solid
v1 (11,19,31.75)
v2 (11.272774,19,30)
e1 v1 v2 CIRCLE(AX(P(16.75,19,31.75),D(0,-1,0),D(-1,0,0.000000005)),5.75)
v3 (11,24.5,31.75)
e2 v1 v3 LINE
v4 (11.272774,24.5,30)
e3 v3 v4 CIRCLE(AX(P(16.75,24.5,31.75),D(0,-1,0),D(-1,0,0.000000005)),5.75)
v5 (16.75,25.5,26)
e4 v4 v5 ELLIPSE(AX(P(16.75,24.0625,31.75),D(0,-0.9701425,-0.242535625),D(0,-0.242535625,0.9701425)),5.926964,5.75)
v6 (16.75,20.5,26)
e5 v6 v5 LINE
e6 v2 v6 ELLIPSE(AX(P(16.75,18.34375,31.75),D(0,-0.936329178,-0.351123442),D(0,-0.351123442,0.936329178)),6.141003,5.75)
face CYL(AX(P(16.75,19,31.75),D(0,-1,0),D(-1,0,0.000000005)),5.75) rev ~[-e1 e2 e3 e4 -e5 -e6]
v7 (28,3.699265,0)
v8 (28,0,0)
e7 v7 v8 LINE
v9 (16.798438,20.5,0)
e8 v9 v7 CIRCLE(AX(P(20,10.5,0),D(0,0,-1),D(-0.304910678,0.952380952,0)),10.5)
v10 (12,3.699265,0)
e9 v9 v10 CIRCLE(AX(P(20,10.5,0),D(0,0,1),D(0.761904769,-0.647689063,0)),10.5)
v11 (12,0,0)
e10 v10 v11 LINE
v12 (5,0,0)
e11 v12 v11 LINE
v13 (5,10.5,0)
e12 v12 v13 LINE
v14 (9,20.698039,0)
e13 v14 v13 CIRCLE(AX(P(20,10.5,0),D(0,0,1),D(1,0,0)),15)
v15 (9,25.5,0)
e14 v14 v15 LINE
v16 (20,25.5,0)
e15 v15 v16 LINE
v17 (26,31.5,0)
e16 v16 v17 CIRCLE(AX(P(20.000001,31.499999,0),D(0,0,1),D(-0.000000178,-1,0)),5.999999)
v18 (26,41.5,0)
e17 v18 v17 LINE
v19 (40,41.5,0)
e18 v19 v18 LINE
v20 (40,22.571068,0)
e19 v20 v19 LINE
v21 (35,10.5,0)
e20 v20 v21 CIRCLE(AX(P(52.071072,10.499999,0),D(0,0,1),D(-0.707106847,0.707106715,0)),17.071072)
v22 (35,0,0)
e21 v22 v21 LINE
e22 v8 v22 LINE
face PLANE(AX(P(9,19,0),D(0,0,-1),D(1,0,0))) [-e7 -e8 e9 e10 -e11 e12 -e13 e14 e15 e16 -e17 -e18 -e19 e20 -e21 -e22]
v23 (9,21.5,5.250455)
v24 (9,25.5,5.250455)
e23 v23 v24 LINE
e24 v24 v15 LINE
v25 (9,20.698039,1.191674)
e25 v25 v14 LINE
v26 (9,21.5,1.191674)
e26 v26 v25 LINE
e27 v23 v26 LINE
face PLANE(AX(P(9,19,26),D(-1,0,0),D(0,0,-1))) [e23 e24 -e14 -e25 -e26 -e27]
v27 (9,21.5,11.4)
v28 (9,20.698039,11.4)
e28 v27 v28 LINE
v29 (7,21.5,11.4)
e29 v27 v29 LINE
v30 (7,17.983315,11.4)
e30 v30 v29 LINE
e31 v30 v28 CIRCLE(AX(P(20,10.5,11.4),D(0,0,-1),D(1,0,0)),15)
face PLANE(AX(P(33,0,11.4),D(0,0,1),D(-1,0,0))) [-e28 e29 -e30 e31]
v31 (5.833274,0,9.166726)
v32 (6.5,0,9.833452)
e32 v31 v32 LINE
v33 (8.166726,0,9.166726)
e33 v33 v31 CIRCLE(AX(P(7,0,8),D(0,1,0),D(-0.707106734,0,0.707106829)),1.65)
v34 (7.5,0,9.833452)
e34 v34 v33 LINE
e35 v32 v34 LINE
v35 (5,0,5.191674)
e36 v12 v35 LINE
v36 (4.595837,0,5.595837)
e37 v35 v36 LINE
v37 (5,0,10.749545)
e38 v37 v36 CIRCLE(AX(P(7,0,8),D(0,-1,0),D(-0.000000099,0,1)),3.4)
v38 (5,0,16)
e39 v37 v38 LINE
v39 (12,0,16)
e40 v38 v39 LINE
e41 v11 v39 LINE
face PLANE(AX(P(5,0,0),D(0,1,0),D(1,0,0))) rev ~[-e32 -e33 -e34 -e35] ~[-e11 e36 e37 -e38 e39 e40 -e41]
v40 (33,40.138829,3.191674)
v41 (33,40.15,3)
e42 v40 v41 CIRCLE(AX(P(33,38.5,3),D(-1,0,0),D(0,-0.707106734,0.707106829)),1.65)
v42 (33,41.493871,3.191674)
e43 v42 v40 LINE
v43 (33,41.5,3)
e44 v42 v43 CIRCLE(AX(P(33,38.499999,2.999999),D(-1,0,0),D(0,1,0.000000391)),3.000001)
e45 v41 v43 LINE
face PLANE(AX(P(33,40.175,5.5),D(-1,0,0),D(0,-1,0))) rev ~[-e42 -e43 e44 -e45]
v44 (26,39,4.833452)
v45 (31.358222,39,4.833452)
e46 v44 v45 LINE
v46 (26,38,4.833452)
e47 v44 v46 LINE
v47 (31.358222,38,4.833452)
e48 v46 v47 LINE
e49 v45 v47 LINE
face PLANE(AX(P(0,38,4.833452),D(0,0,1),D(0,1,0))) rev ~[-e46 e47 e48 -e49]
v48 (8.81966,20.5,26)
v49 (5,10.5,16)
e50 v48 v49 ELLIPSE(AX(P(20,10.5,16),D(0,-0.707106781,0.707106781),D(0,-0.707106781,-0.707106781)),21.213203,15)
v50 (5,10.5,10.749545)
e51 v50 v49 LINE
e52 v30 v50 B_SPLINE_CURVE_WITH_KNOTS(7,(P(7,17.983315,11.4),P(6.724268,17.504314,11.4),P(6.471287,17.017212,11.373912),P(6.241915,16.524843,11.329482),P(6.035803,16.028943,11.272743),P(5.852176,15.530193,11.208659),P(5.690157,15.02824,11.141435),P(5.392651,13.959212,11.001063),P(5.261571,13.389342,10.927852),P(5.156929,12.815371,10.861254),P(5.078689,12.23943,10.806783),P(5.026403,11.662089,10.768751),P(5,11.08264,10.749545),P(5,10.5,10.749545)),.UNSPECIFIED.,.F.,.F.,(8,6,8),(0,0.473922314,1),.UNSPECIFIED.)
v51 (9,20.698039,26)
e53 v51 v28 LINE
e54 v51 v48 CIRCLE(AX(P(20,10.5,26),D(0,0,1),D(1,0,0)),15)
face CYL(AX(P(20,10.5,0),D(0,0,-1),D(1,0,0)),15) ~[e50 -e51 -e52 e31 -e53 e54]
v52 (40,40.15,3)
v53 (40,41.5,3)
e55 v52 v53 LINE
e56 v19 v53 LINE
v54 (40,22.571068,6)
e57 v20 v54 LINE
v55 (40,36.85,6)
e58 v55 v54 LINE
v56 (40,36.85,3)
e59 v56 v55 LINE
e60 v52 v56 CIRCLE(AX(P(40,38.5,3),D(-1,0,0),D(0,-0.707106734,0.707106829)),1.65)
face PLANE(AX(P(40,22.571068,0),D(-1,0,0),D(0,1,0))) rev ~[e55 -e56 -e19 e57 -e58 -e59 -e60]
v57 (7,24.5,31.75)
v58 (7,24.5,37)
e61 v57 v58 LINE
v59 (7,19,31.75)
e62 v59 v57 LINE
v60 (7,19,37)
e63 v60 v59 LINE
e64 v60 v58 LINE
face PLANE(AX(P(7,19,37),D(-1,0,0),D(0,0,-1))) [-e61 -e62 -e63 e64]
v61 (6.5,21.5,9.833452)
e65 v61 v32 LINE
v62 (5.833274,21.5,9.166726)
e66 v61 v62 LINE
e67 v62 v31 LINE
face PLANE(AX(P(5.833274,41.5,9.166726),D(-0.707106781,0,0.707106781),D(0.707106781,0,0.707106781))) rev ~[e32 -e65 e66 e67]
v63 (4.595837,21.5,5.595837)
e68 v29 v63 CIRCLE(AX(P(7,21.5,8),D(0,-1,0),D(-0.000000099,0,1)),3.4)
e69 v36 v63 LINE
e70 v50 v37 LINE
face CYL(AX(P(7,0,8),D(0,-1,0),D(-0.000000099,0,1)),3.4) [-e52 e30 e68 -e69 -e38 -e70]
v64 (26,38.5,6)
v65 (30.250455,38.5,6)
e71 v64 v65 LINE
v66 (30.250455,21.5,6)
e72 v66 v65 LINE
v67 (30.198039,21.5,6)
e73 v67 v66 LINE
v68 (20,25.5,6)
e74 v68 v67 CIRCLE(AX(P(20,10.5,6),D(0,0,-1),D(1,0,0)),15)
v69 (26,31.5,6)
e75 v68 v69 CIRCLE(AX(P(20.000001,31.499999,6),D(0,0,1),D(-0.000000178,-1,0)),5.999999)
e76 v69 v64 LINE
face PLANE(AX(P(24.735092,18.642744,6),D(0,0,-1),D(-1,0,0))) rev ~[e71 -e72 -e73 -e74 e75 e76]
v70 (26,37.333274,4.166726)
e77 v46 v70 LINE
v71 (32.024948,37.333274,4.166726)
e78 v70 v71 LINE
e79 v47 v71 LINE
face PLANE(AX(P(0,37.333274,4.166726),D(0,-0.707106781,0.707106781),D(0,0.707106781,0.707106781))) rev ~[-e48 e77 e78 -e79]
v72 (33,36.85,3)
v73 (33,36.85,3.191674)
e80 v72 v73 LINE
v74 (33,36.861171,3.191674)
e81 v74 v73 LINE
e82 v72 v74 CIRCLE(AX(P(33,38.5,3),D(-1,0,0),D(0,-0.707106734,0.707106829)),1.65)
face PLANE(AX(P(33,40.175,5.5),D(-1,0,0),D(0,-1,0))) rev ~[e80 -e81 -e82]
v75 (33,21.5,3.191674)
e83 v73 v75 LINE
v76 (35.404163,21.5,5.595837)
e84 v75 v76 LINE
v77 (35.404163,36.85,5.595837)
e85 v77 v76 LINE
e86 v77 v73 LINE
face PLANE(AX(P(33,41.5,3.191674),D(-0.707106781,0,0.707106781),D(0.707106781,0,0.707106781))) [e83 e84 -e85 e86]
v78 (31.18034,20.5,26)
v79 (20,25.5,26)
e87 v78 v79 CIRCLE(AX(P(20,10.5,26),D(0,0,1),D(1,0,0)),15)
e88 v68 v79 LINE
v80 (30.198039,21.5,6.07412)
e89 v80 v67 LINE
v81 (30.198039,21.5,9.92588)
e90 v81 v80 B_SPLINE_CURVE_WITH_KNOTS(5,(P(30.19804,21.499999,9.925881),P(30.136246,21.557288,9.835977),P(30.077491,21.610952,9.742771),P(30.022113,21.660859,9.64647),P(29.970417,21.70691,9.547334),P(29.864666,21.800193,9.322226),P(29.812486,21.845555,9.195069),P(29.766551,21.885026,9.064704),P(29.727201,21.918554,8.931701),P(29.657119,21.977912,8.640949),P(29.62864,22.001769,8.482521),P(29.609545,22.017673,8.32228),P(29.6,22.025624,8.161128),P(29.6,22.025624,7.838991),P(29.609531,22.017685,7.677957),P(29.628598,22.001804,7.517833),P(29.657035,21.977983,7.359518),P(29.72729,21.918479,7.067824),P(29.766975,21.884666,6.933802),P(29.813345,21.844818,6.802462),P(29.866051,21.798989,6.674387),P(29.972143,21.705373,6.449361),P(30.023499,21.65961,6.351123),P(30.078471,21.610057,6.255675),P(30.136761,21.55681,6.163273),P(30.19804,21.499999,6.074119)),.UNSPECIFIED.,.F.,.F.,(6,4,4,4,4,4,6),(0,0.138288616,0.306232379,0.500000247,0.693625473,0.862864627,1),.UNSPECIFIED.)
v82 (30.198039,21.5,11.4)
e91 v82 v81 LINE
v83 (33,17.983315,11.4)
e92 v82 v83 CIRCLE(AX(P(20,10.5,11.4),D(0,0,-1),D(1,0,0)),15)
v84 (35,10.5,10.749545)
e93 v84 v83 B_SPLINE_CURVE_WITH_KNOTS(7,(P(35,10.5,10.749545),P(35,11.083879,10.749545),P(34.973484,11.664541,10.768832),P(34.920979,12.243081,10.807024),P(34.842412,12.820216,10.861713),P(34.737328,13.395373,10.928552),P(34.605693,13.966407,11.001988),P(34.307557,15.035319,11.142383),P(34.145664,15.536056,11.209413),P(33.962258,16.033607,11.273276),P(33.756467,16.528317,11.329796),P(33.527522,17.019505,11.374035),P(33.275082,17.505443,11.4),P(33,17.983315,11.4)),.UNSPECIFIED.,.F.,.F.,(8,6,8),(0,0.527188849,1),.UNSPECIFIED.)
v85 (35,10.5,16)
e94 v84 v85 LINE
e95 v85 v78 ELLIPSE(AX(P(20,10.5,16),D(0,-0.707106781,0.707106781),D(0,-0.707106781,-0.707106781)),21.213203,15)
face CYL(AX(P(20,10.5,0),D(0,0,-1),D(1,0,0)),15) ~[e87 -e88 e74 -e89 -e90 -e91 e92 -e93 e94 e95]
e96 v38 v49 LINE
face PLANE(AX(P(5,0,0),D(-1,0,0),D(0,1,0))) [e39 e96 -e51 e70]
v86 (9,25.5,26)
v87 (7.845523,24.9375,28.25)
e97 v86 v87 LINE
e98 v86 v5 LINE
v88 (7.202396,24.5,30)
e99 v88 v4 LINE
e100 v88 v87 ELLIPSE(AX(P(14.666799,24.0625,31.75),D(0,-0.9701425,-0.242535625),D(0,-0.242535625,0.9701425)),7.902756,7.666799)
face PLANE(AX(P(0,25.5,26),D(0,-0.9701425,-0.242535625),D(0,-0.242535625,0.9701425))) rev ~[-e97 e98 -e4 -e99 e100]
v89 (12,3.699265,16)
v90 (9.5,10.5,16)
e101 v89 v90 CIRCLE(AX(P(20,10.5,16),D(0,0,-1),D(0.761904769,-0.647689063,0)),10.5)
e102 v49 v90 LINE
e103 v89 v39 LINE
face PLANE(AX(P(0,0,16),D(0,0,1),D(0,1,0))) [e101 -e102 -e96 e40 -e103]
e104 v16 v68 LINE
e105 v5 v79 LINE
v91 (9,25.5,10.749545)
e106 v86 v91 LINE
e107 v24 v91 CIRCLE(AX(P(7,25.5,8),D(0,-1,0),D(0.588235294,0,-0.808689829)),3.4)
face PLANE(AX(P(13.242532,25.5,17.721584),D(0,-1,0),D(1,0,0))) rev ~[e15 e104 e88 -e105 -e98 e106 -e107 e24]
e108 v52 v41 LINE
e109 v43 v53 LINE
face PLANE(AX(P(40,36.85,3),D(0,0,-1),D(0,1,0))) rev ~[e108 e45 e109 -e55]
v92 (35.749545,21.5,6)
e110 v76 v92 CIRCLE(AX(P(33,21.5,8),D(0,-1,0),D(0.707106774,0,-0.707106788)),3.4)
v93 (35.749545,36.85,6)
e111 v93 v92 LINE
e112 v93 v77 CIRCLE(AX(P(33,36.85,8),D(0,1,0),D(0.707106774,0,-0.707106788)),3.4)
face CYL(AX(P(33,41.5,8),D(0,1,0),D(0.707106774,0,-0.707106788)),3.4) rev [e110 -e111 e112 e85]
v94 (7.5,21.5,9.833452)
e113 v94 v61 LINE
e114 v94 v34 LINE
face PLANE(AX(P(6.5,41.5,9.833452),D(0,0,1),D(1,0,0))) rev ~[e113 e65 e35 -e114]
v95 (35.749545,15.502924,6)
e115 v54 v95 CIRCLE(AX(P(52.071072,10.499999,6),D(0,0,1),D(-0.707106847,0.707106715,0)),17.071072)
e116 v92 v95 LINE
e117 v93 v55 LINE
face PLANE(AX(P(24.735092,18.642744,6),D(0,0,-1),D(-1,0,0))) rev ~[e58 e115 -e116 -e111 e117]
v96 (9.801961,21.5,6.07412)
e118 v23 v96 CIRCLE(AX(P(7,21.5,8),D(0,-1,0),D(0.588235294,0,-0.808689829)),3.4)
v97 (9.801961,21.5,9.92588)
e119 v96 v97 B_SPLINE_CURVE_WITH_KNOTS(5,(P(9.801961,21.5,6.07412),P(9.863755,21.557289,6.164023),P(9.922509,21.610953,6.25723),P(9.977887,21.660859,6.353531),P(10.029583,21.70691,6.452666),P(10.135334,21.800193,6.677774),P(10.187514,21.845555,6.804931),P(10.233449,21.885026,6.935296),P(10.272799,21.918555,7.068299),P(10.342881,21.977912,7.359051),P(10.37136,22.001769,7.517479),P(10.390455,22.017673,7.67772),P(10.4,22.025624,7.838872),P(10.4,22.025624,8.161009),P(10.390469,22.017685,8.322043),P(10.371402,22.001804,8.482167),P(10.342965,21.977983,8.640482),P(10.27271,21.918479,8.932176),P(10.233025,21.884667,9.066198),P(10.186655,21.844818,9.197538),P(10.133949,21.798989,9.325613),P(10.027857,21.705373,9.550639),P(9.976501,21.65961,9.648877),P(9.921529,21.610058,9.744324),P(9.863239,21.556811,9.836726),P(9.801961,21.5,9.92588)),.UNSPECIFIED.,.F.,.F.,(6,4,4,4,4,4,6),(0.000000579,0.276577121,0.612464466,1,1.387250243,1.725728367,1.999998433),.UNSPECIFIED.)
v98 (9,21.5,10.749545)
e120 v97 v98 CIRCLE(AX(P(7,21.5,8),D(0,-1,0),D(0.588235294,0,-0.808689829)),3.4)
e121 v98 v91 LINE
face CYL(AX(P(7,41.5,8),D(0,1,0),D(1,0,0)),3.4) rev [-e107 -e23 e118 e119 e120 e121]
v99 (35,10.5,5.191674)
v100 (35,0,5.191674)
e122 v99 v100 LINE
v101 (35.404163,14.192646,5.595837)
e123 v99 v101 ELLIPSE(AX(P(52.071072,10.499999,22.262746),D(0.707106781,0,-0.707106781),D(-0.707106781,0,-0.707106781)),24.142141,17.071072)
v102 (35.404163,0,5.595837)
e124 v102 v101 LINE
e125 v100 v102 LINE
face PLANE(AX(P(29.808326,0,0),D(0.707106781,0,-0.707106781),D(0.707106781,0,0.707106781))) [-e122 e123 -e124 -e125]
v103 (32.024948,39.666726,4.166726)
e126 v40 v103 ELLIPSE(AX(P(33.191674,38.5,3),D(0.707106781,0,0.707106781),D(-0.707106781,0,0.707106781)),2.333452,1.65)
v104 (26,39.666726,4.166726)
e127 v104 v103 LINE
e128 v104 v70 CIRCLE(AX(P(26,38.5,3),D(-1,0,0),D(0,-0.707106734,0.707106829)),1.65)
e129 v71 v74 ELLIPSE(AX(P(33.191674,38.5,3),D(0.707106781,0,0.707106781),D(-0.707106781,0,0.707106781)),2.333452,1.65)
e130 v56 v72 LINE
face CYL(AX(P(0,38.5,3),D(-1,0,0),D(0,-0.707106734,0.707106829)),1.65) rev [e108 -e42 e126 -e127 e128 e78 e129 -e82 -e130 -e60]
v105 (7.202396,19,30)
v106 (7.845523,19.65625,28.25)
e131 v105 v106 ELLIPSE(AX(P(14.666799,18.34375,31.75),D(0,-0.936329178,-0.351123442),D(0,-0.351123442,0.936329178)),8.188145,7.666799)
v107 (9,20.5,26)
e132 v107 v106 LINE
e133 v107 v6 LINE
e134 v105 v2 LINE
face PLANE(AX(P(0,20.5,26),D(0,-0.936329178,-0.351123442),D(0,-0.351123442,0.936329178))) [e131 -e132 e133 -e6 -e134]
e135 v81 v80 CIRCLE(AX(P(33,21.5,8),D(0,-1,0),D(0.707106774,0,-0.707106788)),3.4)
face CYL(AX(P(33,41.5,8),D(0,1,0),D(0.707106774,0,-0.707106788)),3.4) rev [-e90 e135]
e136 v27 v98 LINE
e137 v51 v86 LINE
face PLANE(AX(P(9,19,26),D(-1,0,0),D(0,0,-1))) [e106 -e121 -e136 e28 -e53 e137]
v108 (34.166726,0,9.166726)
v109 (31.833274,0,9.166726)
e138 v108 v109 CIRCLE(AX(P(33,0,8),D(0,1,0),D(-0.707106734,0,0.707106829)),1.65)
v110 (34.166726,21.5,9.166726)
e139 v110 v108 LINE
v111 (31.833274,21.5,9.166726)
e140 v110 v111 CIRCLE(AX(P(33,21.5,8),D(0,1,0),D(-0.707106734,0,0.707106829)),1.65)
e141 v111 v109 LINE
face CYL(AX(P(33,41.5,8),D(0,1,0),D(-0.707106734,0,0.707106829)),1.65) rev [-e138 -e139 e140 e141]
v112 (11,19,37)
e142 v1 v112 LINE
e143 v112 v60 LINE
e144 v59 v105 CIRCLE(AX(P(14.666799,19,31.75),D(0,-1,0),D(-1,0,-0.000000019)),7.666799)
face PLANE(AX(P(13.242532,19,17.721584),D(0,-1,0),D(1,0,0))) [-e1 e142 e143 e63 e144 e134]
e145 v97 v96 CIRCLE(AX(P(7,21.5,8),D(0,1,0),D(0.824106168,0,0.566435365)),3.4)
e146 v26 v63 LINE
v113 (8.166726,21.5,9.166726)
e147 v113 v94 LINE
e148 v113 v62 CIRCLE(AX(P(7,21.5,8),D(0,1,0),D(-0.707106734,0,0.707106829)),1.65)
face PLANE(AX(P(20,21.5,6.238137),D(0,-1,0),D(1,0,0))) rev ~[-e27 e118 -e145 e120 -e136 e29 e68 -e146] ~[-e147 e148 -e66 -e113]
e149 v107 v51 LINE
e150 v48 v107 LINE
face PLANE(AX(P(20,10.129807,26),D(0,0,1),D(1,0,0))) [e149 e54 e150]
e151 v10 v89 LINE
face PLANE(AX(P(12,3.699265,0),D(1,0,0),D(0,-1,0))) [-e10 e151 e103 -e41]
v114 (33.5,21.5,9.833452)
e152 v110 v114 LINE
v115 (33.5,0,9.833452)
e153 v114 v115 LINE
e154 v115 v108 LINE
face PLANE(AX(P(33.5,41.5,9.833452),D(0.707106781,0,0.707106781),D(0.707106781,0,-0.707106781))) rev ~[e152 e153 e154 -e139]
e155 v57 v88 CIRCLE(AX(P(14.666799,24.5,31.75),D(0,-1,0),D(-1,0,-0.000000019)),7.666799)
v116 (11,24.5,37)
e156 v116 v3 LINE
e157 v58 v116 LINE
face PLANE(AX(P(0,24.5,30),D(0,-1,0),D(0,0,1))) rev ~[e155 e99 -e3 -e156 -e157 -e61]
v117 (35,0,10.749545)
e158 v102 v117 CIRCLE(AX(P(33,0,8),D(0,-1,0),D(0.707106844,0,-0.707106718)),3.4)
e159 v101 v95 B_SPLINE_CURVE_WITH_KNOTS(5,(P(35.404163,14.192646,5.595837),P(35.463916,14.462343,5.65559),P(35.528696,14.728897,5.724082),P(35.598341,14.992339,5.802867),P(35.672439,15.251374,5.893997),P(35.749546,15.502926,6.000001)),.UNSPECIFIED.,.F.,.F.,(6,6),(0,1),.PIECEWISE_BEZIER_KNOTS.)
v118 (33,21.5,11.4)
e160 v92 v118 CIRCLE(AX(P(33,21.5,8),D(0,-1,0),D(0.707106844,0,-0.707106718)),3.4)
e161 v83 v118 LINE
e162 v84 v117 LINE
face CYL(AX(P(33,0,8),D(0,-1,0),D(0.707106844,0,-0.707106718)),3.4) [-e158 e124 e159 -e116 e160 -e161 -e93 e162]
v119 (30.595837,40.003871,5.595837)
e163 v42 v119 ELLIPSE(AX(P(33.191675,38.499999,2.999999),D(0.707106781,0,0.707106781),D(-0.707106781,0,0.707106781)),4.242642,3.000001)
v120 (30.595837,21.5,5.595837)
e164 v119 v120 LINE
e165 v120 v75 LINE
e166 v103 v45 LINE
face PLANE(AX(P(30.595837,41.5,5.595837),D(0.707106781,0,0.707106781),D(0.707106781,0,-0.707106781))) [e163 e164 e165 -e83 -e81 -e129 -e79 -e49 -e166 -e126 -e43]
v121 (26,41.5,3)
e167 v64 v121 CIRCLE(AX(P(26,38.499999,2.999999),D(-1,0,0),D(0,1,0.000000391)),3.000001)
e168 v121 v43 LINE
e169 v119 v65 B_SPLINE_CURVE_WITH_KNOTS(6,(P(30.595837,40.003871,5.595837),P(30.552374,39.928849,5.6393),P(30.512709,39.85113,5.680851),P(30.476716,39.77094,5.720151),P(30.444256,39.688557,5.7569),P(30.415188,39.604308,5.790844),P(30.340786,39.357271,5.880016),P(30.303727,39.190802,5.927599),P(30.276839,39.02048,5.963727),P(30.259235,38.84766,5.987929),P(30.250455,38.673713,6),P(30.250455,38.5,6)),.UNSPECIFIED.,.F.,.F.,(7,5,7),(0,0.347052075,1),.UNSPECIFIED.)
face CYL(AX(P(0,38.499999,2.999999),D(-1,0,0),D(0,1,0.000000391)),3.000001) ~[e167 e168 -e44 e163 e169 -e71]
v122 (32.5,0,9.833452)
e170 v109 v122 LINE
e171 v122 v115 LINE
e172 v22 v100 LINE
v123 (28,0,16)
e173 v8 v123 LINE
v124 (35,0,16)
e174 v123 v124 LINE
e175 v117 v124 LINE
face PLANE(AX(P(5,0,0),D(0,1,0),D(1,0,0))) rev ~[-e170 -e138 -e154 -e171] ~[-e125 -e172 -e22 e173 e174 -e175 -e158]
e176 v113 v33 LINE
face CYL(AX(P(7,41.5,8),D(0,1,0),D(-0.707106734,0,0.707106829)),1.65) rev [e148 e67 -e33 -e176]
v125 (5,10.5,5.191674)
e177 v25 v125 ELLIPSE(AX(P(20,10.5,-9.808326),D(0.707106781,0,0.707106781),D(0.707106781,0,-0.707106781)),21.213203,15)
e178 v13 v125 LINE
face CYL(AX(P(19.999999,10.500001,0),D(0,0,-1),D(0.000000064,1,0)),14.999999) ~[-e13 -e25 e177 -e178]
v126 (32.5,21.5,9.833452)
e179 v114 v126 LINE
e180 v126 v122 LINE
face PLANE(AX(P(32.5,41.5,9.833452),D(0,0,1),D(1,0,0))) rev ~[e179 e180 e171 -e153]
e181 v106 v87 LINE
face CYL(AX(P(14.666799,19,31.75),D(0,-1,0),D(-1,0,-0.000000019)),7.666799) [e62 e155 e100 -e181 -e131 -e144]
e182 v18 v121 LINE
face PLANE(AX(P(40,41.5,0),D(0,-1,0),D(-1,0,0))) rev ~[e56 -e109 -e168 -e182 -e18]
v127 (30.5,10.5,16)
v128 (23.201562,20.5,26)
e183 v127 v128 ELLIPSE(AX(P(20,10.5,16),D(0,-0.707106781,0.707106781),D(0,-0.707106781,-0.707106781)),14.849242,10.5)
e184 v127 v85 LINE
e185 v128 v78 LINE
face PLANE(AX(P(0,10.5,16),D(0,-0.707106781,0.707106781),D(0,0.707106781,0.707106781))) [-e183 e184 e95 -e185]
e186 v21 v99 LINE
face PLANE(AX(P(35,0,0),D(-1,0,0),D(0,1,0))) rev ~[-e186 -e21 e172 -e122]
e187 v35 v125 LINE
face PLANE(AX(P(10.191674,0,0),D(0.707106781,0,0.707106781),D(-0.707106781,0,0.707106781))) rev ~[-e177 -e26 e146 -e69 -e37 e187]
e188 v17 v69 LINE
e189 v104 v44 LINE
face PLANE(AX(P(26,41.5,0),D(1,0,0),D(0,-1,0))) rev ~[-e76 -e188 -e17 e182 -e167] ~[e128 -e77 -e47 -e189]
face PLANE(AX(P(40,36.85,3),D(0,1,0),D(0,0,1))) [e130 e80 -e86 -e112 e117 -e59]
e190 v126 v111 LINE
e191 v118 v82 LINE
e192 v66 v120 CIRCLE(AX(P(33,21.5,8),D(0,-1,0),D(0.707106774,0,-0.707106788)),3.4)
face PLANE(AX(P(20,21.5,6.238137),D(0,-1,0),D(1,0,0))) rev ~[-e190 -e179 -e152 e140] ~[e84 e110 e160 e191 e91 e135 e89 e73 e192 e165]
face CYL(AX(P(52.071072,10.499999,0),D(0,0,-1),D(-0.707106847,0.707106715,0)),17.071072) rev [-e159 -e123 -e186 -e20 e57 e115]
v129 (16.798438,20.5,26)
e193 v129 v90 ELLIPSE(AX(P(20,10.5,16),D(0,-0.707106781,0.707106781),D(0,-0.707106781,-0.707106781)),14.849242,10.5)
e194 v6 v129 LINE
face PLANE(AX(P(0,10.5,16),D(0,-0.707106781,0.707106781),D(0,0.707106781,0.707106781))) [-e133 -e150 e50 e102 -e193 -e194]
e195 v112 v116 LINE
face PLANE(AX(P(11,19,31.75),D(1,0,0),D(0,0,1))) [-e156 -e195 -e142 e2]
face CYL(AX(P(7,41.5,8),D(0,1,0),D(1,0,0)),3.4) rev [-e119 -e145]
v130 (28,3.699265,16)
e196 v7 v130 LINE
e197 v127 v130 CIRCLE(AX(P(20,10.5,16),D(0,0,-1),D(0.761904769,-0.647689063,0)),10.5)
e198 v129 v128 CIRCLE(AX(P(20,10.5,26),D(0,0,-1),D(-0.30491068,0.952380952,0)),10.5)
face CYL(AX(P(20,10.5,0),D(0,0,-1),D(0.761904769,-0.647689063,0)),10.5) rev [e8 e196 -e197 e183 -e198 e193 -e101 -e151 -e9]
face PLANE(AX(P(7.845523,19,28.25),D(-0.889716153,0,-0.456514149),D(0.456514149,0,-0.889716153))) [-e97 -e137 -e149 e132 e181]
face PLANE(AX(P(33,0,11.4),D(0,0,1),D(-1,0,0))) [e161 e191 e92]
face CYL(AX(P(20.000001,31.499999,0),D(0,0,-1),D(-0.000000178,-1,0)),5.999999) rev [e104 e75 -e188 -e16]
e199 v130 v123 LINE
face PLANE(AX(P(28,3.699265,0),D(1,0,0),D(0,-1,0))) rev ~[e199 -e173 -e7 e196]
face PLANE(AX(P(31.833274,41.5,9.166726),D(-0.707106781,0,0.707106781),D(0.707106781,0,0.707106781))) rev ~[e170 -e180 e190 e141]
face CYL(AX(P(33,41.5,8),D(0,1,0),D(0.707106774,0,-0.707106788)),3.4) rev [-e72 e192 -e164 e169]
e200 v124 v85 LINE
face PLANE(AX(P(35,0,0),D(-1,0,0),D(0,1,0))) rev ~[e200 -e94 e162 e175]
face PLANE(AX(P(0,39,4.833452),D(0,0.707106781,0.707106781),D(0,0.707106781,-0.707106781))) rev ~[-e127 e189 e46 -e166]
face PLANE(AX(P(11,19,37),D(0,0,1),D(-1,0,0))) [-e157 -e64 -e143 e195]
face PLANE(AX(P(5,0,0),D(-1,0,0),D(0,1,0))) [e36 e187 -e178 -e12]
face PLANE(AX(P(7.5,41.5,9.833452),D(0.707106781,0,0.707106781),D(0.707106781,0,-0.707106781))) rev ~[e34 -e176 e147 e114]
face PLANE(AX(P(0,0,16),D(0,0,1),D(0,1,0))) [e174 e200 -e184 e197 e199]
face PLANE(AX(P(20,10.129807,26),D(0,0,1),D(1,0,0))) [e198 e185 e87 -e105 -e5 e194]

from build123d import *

# Parameters (mm, degrees)
PAD003_DEPTH    = 6.5
SKETCH016_R     = 10.5
POCKET005_DEPTH = 37.001
POCKET006_DEPTH = 20.001
SKETCH018_R     = 3.4
POCKET007_DEPTH = 20
PAD001_DEPTH    = 21.5
PAD002_DEPTH    = 6
PAD_DEPTH       = 26
SKETCH010_R     = 3.4
POCKET_DEPTH    = 20
POCKET001_DEPTH = 26.001
POCKET002_DEPTH = 41.501
POCKET003_DEPTH = 40.001
POCKET004_DEPTH = 7


with BuildPart() as body006:
    # Sketch015 → Pad003 (new body)
    with BuildSketch(Plane.XZ.offset(-19)):
        with BuildLine():
            Line((7.845523, 28.25), (9, 26))
            Line((9, 26), (9, 0))
            Line((9, 0), (20, 0))
            Line((20, 0), (20, 26))
            Line((16.75, 26), (20, 26))
            ThreePointArc((11, 31.75), (12.684136, 27.684136), (16.75, 26))
            Line((11, 31.75), (11, 37))
            Line((11, 37), (7, 37))
            Line((7, 37), (7, 31.75))
            ThreePointArc((7, 31.75), (7.214378, 29.949659), (7.845523, 28.25))
        make_face()
    extrude(amount=-PAD003_DEPTH)

    # Sketch016 → Pocket005 (cut, through all)
    with BuildSketch(Plane.XY):
        with Locations((20, 10.5)):
            Circle(SKETCH016_R)
    extrude(amount=POCKET005_DEPTH, mode=Mode.SUBTRACT)

    # Sketch017 → Pocket006 (cut, through all)
    with BuildSketch(Plane.YZ):
        Polygon((20.5, 0), (20.5, 26), (19, 30), (19, 0), align=None)
        Polygon((25.5, 26), (24.5, 30), (24.5, 37), (25.5, 37), align=None)
    extrude(amount=POCKET006_DEPTH, mode=Mode.SUBTRACT)

    # Sketch018 → Pocket007 (cut)
    with BuildSketch(Plane.XZ.offset(-41.5)):
        with Locations((7, 8)):
            Circle(SKETCH018_R)
        with BuildLine():
            ThreePointArc((35.404163, 5.595837), (33, 11.4), (30.595837, 5.595837))
            Line((30.595837, 5.595837), (33, 3.191674))
            Line((33, 3.191674), (35.404163, 5.595837))
        make_face()
    extrude(amount=POCKET007_DEPTH, mode=Mode.SUBTRACT)


with BuildPart() as boltpairboss:
    # Sketch006 → Pad001 (new body)
    with BuildSketch(Plane.XZ):
        with BuildLine():
            ThreePointArc((7, 11.4), (3.85881, 9.301124), (4.595837, 5.595837))
            Line((10.191674, 0), (4.595837, 5.595837))
            Line((10.191674, 0), (29.808326, 0))
            Line((29.808326, 0), (35.404163, 5.595837))
            ThreePointArc((35.404163, 5.595837), (36.14119, 9.301124), (33, 11.4))
            Line((33, 11.4), (7, 11.4))
        make_face()
    extrude(amount=-PAD001_DEPTH)


with BuildPart() as sideboltboss:
    # Sketch007 → Pad002 (new body)
    with BuildSketch(Plane.XY):
        with BuildLine():
            Line((5, 0), (5, 10.5))
            ThreePointArc((20, 25.5), (9.393398, 21.106602), (5, 10.5))
            ThreePointArc((20, 25.5), (24.242641, 27.257359), (26, 31.5))
            Line((26, 41.5), (26, 31.5))
            Line((40, 41.5), (26, 41.5))
            Line((40, 22.571068), (40, 41.5))
            ThreePointArc((40, 22.571068), (36.299458, 17.032815), (35, 10.5))
            Line((35, 0), (35, 10.5))
            Line((5, 0), (35, 0))
        make_face()
    extrude(amount=PAD002_DEPTH)


with BuildPart() as fusion001:
    # Sketch → Pad (new body)
    with BuildSketch(Plane.XY):
        with BuildLine():
            ThreePointArc((35, 10.5), (20, 25.5), (5, 10.5))
            Line((5, 0), (5, 10.5))
            Line((5, 0), (35, 0))
            Line((35, 0), (35, 10.5))
        make_face()
    extrude(amount=PAD_DEPTH)

    # Fusion: union BoltPairBoss, SideBoltBoss
    add(boltpairboss.part)
    add(sideboltboss.part)

    # Sketch010 → Pocket (cut)
    with BuildSketch(Plane.XZ.offset(-41.5)):
        with Locations((7, 8)):
            Circle(SKETCH010_R)
        with BuildLine():
            ThreePointArc((35.404163, 5.595837), (33, 11.4), (30.595837, 5.595837))
            Line((30.595837, 5.595837), (33, 3.191674))
            Line((33, 3.191674), (35.404163, 5.595837))
        make_face()
    extrude(amount=POCKET_DEPTH, mode=Mode.SUBTRACT)

    # Sketch011 → Pocket001 (cut, through all)
    with BuildSketch(Plane.XY):
        with BuildLine():
            ThreePointArc((28, 3.699265), (20, 21), (12, 3.699265))
            Line((12, 3.699265), (12, 0))
            Line((12, 0), (28, 0))
            Line((28, 3.699265), (28, 0))
        make_face()
    extrude(amount=POCKET001_DEPTH, mode=Mode.SUBTRACT)

    # Sketch012 → Pocket002 (cut, through all)
    with BuildSketch(Plane.XZ.offset(-41.5)):
        with BuildLine():
            ThreePointArc((5.833274, 9.166726), (7, 6.35), (8.166726, 9.166726))
            Line((7.5, 9.833452), (8.166726, 9.166726))
            Line((6.5, 9.833452), (7.5, 9.833452))
            Line((5.833274, 9.166726), (6.5, 9.833452))
        make_face()
        with BuildLine():
            ThreePointArc((31.833274, 9.166726), (33, 6.35), (34.166726, 9.166726))
            Line((33.5, 9.833452), (34.166726, 9.166726))
            Line((32.5, 9.833452), (33.5, 9.833452))
            Line((31.833274, 9.166726), (32.5, 9.833452))
        make_face()
    extrude(amount=POCKET002_DEPTH, mode=Mode.SUBTRACT)

    # Sketch013 → Pocket003 (cut, through all)
    with BuildSketch(Plane.YZ):
        Polygon((0, 16), (10.5, 16), (20.5, 26), (0, 26), align=None)
        with BuildLine():
            ThreePointArc((37.333274, 4.166726), (38.5, 1.35), (39.666726, 4.166726))
            Line((39, 4.833452), (39.666726, 4.166726))
            Line((38, 4.833452), (39, 4.833452))
            Line((37.333274, 4.166726), (38, 4.833452))
        make_face()
        with BuildLine():
            ThreePointArc((41.5, 3), (40.62132, 5.12132), (38.5, 6))
            Line((35.5, 6), (38.5, 6))
            Line((35.5, 9), (35.5, 6))
            Line((44.5, 9), (35.5, 9))
            Line((44.5, 0), (44.5, 9))
            Line((41.5, 0), (44.5, 0))
            Line((41.5, 3), (41.5, 0))
        make_face()
    extrude(amount=POCKET003_DEPTH, mode=Mode.SUBTRACT)

    # Sketch014 → Pocket004 (cut)
    with BuildSketch(Plane.YZ.offset(40)):
        Polygon((38.5, 8), (43.5, 8), (43.5, 3), (38.5, 3), (36.85, 3), (36.85, 8), align=None)
    extrude(amount=-POCKET004_DEPTH, mode=Mode.SUBTRACT)

    # Fusion001: union Body006
    add(body006.part)


solid = fusion001.part
